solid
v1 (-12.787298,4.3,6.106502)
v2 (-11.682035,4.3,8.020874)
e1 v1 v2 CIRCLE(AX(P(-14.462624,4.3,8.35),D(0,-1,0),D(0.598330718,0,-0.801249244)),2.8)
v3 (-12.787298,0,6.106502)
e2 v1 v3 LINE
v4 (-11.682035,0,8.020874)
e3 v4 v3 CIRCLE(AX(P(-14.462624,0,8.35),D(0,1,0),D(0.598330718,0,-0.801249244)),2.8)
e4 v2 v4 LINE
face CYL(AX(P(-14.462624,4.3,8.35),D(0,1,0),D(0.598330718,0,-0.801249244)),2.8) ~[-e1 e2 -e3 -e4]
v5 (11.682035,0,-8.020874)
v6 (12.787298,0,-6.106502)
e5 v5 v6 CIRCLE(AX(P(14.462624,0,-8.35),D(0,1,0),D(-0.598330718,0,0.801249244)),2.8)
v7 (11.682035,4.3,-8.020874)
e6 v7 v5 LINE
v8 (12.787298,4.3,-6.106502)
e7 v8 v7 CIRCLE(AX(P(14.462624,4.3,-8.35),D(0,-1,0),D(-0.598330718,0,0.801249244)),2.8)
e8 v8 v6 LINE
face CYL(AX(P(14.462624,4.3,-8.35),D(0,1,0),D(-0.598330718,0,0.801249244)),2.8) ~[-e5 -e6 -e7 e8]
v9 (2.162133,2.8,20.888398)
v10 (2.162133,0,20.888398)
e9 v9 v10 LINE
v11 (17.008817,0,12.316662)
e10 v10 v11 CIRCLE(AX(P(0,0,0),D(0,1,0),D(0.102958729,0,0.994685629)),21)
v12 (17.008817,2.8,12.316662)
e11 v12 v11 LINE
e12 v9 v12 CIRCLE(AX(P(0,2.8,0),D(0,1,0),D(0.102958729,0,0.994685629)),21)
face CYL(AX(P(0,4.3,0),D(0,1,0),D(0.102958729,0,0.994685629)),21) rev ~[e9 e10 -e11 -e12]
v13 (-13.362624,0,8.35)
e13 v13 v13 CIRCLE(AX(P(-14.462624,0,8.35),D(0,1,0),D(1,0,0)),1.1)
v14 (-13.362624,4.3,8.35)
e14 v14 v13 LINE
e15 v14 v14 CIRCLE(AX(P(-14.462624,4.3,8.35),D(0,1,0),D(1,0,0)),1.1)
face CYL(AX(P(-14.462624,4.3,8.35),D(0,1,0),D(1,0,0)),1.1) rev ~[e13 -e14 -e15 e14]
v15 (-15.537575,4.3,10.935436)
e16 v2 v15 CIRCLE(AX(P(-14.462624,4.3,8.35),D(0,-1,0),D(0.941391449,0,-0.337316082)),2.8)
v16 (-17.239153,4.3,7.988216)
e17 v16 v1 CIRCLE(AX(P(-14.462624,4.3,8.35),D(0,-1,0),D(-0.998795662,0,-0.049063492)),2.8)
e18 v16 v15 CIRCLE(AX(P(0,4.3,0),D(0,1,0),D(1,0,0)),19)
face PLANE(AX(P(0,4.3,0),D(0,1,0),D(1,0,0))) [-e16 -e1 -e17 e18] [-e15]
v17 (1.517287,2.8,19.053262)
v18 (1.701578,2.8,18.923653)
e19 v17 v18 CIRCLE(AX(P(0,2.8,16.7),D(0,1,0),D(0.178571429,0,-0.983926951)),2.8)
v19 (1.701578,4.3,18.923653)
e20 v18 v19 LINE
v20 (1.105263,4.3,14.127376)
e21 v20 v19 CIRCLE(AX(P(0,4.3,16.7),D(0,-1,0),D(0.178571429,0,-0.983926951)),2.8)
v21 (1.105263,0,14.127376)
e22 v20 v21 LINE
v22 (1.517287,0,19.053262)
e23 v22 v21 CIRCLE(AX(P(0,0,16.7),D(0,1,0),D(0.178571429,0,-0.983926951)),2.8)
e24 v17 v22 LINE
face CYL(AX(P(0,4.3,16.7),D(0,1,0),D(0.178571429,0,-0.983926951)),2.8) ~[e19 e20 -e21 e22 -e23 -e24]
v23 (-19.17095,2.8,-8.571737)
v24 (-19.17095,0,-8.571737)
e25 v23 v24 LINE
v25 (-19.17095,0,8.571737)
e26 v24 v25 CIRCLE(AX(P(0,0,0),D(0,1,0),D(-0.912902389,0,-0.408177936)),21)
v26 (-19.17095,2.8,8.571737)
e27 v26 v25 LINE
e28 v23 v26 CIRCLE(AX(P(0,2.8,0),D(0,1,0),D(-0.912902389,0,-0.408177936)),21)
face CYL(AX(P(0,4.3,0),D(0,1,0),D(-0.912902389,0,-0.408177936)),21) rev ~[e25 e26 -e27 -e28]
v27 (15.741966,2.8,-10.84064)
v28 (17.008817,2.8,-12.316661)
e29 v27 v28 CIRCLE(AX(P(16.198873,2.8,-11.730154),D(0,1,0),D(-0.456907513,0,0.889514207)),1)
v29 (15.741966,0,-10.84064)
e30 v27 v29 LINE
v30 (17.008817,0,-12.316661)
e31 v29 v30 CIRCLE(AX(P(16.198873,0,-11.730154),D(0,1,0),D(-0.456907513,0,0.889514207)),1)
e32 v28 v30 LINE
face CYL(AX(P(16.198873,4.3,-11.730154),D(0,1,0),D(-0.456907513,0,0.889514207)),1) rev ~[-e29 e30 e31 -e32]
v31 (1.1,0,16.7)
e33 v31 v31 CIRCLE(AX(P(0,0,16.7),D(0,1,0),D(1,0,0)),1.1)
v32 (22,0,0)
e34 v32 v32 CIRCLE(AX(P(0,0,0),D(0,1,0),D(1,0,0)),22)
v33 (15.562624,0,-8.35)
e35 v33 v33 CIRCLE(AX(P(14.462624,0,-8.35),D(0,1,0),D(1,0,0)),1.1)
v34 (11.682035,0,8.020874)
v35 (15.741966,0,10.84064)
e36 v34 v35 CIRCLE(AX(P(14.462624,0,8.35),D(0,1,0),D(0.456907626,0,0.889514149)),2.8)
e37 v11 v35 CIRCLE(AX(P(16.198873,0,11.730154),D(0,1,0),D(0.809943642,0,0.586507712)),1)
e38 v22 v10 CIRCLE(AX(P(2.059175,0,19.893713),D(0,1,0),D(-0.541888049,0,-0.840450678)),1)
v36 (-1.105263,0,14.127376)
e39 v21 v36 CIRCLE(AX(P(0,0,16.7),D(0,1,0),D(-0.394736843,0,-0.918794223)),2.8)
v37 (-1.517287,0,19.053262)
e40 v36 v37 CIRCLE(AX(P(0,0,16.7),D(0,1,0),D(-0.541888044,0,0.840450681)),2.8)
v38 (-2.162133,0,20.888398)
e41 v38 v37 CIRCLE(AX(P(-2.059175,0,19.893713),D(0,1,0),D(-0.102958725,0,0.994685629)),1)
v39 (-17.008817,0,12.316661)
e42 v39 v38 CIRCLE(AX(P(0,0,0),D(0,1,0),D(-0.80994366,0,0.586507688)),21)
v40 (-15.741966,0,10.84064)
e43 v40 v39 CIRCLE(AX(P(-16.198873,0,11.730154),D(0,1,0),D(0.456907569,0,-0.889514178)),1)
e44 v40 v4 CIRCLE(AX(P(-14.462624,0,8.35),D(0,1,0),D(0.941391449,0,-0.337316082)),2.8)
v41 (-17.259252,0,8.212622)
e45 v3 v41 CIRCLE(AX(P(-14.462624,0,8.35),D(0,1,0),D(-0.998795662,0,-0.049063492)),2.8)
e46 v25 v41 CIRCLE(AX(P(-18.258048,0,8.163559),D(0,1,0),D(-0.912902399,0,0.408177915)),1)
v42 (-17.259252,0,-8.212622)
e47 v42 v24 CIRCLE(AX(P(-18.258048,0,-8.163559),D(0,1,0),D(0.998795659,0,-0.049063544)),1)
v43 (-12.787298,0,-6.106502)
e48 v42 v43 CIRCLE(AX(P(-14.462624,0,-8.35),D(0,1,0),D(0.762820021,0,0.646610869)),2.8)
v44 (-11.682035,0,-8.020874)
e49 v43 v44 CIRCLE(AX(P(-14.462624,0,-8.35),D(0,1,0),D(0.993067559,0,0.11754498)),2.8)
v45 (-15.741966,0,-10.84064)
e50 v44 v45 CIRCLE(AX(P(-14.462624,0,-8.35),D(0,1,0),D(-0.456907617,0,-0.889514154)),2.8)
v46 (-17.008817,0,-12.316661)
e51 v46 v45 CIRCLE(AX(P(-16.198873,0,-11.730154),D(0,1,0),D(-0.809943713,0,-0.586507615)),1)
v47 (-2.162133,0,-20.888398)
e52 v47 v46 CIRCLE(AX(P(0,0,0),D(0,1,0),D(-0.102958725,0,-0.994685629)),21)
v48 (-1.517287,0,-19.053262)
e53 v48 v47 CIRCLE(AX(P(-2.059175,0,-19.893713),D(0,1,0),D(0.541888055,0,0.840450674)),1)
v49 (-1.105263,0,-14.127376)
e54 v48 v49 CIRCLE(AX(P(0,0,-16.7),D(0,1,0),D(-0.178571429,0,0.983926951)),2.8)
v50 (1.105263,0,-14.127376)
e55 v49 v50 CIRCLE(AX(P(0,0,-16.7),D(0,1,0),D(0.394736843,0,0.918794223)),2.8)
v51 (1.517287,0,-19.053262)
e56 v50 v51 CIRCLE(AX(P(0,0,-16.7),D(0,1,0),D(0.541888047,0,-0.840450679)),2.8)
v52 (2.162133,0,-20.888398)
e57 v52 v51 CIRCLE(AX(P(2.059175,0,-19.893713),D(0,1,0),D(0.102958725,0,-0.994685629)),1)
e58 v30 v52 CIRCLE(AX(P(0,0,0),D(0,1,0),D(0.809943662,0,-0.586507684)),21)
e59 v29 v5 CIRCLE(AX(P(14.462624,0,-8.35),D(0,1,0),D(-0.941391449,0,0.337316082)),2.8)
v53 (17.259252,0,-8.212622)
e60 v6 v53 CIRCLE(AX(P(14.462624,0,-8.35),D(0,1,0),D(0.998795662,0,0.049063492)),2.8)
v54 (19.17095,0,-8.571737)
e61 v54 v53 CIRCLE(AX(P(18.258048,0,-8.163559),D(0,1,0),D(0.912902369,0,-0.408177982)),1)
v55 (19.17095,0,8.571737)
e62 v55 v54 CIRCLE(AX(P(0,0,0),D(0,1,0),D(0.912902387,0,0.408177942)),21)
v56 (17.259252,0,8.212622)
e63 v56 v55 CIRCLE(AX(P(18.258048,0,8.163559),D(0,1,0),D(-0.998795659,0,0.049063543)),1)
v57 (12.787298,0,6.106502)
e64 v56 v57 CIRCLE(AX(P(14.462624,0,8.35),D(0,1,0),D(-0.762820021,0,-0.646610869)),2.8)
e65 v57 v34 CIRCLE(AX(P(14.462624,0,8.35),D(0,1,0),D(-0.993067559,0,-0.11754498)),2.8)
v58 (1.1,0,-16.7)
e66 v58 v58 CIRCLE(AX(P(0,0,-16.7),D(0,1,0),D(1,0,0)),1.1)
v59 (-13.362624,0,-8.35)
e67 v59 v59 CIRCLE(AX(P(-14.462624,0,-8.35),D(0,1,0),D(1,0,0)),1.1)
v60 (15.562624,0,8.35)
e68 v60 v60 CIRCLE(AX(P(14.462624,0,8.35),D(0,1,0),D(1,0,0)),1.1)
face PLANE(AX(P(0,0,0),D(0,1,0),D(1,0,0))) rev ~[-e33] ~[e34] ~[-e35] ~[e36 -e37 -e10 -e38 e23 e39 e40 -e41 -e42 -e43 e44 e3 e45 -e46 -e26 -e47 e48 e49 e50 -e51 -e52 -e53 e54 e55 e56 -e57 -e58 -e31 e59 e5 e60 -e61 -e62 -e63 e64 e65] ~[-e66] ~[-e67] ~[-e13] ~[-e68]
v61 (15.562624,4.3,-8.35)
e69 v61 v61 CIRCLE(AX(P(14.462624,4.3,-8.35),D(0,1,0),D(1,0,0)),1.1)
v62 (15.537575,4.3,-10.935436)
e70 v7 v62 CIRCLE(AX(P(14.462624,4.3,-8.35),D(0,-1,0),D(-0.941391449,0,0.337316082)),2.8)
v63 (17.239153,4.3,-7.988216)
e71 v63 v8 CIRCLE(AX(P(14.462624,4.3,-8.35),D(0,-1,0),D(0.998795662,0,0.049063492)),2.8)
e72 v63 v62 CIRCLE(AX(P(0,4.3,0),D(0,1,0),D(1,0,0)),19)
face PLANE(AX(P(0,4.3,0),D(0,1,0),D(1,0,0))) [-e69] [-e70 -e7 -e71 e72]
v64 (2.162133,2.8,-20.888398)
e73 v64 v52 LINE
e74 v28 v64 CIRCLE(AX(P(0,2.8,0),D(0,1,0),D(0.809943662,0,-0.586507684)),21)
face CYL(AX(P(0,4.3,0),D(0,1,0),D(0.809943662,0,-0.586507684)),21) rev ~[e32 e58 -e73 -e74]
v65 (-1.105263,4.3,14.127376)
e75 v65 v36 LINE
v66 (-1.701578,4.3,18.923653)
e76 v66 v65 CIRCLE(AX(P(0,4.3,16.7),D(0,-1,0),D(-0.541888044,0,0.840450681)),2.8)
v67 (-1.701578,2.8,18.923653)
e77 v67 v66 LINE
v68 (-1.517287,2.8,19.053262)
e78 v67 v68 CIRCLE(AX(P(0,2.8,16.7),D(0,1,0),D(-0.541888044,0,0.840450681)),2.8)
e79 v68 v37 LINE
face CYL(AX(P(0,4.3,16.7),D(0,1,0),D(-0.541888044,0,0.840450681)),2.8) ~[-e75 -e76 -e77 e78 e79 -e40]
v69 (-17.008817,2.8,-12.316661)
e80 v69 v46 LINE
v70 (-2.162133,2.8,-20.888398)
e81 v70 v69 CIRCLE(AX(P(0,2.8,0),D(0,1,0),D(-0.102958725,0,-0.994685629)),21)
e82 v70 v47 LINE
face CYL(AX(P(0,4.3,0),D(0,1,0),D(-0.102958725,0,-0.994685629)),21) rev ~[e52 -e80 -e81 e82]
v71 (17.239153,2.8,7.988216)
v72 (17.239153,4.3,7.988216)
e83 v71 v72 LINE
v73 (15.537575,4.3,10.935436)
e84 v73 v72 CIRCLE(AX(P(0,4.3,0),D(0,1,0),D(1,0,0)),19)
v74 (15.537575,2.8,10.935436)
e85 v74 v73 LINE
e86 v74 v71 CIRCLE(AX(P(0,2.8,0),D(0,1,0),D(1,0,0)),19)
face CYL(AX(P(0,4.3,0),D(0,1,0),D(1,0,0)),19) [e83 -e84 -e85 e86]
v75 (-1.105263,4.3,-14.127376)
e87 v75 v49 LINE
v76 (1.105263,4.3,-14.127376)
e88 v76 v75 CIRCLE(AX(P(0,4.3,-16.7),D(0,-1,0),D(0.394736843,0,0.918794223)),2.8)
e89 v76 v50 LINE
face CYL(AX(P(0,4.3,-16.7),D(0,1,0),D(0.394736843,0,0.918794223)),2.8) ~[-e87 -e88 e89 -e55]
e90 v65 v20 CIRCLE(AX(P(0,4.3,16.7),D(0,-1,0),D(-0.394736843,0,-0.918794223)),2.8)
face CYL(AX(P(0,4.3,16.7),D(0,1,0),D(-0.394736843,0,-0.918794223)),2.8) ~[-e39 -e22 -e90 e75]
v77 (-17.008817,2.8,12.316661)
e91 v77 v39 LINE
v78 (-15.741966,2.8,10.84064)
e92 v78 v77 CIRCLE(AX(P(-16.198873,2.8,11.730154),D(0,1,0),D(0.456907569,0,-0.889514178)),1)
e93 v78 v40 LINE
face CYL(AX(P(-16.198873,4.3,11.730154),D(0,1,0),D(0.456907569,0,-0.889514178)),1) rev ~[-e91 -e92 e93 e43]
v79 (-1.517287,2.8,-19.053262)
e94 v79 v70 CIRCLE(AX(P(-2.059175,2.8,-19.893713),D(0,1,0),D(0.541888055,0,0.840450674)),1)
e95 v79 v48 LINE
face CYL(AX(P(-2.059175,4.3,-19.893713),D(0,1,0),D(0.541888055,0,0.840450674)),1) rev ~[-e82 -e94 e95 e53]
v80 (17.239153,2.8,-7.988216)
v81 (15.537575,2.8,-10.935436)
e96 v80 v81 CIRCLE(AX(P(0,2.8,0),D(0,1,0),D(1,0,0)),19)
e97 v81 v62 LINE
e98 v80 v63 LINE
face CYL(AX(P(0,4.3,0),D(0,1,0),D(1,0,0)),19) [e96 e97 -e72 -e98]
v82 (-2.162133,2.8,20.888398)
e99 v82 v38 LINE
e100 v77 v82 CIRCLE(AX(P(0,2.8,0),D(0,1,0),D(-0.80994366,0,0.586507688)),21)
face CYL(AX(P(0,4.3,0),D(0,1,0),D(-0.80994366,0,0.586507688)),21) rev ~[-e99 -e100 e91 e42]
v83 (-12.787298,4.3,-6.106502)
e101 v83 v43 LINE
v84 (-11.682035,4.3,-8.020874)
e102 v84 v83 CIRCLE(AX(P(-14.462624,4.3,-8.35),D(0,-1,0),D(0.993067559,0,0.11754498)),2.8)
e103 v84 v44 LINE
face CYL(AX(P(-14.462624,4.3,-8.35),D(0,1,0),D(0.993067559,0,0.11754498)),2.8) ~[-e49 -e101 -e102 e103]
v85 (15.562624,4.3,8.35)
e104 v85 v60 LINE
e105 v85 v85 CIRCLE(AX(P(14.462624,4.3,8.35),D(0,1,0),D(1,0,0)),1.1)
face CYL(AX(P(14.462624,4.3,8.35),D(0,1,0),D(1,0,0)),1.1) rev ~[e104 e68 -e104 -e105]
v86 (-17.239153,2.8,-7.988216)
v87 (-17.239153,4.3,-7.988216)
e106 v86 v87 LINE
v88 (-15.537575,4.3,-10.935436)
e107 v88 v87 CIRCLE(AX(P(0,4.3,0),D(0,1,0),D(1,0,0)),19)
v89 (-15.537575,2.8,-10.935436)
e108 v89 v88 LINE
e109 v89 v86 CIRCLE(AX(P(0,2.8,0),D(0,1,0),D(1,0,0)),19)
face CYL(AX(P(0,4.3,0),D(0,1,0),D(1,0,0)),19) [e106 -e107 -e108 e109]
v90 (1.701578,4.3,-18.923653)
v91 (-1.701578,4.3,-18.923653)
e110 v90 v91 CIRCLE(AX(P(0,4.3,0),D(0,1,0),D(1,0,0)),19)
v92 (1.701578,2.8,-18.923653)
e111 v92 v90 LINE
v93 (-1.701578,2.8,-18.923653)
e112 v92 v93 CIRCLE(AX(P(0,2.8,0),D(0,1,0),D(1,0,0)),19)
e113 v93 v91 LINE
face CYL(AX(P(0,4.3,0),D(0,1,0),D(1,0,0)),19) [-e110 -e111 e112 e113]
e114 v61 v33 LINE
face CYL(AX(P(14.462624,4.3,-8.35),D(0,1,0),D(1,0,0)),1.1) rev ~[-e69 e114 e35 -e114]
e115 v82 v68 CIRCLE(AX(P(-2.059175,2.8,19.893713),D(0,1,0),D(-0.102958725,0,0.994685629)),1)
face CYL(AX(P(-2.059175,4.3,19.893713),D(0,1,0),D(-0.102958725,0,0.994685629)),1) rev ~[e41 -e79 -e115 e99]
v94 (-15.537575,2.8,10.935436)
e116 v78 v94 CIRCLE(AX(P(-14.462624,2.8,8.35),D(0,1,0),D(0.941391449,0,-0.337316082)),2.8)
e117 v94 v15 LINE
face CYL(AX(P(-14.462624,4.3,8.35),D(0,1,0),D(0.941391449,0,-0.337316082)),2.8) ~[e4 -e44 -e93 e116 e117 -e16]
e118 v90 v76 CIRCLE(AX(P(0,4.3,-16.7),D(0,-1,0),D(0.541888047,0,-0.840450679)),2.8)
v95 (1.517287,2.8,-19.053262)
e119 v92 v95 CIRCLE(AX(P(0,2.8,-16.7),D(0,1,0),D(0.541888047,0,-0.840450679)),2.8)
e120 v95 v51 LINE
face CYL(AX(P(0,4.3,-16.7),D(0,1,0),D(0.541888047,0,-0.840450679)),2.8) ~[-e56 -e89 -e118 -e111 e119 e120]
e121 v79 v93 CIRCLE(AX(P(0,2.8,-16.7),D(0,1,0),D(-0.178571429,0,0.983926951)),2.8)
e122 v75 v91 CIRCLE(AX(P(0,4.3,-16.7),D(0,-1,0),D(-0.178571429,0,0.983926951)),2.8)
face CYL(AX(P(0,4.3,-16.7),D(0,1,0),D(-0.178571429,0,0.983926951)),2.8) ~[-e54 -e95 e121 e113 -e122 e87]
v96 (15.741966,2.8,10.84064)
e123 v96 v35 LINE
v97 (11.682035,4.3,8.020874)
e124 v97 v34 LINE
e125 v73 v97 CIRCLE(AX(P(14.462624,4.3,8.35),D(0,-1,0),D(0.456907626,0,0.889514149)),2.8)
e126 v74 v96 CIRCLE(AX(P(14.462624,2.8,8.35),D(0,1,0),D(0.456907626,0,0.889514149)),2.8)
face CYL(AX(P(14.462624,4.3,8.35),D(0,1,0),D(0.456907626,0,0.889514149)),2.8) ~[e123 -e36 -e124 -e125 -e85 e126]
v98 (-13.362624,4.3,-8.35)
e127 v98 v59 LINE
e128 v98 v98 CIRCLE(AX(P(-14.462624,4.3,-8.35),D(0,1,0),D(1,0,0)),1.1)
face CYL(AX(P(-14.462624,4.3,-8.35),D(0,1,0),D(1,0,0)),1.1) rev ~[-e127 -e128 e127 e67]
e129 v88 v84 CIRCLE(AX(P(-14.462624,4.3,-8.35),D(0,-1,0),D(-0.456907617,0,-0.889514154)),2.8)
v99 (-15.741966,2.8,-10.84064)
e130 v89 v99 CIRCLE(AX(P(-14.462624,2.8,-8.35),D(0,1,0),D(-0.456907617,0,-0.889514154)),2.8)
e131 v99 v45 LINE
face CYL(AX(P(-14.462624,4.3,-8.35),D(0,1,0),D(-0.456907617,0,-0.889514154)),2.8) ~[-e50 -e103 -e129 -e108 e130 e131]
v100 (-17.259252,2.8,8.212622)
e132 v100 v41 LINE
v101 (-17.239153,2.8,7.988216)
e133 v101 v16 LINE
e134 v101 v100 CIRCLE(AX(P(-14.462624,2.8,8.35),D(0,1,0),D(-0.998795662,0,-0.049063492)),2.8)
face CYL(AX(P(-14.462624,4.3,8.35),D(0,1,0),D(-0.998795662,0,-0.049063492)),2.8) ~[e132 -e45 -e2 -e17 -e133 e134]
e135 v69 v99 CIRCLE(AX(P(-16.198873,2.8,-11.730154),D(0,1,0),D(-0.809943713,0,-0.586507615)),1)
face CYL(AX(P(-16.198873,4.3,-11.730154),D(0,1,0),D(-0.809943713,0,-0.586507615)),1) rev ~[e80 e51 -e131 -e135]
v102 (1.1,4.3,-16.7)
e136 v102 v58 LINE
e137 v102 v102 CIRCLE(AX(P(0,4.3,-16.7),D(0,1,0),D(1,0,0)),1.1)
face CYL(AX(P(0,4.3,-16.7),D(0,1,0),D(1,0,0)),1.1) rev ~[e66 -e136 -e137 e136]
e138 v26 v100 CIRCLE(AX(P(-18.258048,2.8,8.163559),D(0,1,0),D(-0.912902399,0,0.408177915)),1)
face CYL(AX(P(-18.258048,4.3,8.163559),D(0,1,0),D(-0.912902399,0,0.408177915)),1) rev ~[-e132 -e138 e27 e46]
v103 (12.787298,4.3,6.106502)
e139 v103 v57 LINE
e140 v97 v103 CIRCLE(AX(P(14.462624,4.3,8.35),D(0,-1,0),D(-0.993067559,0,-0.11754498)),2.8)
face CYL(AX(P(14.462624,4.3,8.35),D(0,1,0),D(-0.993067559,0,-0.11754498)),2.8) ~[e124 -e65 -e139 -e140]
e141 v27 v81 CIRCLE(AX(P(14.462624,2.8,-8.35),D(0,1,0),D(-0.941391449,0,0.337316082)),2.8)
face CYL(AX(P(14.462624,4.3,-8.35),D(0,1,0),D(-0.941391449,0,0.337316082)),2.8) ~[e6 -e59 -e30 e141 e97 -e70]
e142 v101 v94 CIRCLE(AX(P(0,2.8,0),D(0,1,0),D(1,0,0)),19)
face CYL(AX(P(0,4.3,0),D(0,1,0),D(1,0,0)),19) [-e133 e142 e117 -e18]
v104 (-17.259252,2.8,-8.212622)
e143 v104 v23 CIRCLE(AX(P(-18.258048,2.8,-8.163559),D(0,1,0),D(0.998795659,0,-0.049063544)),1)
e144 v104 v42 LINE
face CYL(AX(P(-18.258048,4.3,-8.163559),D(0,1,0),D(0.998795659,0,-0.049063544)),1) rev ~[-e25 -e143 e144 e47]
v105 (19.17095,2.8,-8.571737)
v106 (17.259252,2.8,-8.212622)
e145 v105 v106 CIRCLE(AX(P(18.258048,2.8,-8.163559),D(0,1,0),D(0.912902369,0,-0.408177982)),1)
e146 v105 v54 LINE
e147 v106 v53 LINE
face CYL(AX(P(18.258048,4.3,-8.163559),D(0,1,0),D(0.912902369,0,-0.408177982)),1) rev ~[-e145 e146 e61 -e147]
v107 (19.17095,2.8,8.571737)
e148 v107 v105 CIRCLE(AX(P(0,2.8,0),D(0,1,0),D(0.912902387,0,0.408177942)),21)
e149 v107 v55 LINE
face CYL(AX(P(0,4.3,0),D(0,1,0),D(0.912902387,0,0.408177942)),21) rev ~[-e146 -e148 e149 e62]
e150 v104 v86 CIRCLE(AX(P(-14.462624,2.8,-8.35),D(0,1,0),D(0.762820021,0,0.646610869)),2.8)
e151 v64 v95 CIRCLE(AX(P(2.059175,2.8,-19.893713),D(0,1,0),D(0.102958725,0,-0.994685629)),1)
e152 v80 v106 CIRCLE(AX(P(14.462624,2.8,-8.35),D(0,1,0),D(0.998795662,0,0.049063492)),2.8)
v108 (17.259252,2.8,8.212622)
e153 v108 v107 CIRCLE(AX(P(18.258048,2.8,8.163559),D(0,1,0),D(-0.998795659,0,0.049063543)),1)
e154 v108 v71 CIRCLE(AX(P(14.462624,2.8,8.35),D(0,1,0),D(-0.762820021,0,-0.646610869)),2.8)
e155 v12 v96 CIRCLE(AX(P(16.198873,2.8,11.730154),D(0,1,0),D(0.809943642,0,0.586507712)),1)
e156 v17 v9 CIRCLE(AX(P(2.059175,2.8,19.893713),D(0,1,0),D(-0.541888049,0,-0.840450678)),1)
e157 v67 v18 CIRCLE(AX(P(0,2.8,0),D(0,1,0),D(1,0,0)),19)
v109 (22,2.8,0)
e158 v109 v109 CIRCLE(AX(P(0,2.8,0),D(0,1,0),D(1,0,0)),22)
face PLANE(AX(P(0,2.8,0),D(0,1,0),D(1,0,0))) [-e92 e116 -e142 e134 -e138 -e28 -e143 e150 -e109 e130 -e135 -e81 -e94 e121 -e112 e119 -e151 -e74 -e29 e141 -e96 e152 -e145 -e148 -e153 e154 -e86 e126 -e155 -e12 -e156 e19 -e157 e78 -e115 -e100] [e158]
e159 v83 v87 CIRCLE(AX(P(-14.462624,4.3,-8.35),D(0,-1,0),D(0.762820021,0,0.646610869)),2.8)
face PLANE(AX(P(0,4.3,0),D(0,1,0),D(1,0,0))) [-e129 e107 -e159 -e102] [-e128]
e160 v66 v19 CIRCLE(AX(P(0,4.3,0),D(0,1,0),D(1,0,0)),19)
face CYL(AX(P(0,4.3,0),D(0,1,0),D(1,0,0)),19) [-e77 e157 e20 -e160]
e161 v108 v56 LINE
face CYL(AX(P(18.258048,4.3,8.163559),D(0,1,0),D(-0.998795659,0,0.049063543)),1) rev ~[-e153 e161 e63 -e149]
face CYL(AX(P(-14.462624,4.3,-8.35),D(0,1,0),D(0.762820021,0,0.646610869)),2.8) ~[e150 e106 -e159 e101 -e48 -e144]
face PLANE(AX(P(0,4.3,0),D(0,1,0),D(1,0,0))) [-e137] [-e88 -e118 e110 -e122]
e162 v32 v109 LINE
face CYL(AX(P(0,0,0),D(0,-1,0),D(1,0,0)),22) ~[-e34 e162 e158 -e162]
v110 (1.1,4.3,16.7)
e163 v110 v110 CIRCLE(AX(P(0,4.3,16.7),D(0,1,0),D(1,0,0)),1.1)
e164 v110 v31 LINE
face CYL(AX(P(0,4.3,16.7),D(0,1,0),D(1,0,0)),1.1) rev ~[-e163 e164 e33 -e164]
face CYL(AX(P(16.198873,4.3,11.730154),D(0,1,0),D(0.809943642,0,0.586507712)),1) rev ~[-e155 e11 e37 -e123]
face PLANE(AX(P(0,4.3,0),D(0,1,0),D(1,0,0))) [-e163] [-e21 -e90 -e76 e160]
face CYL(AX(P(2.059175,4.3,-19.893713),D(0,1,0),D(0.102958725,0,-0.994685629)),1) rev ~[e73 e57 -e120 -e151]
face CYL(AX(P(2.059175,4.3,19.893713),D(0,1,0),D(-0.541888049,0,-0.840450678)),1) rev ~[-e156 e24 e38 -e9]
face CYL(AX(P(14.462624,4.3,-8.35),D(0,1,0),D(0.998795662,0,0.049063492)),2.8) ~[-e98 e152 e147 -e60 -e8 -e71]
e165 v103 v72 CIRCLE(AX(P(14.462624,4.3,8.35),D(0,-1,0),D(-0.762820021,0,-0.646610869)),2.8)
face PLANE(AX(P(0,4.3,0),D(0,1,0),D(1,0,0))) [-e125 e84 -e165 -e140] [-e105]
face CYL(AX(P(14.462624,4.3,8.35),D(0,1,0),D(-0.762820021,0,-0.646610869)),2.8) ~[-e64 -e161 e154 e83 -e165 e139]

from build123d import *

# Parameters (mm, degrees)
SKETCH1_R             = 22
BASE_SHAPE_DEPTH      = 4.3
BASE_CUT_REACH        = 33.408
SKETCH4_R             = 2.1
MILLING_FILLETS_R     = 1
MIDDLE_START          = -1.5
SKETCH5_R             = 22
SKETCH5_R_2           = 19
MIDDLE_SLOT_CUT_DEPTH = 1.5
M2_SCREW_HOLES_REACH  = 33.408
SKETCH6_R             = 1.1
REMOVE_INNER_REACH    = 33.408


with BuildPart() as part:
    # Sketch1 → Base shape (new body)
    with BuildSketch(Plane(origin=(0, 0, 0), x_dir=(1, 0, 0), z_dir=(0, 1, 0))):
        Circle(SKETCH1_R)
    extrude(amount=BASE_SHAPE_DEPTH)

    # Sketch4 → Base cut (cut, up to next)
    with BuildSketch(Plane(origin=(0, 4.3, 0), x_dir=(1, 0, 0), z_dir=(0, 1, 0)), mode=Mode.PRIVATE) as base_cut_sk1:
        with BuildLine():
            Line((-0.5, 4.623040125), (-0.5, 13.945004537))
            ThreePointArc((-0.5, 13.945004537), (-2.746076212, 16.153131244), (-1.517286534, 19.053261901))
            ThreePointArc((-1.517286534, 19.053261901), (-1.115725557, 20.225230181), (-2.162133235, 20.888398212))
            ThreePointArc((-2.162133235, 20.888398212), (-10.500000003, 18.186533478), (-17.008816883, 12.316661408))
            ThreePointArc((-17.008816883, 12.316661408), (-16.957700355, 11.078861766), (-15.74196557, 10.84063963))
            ThreePointArc((-15.74196557, 10.84063963), (-12.615983904, 10.454737385), (-11.826728185, 7.40551497))
            Line((-11.826728185, 7.40551497), (-3.753670191, 2.744532765))
            ThreePointArc((-3.753670191, 2.744532765), (-2.325, 4.027018128), (-0.5, 4.623040125))
        make_face()
    base_cut_tool1 = extrude(base_cut_sk1.sketch, amount=-BASE_CUT_REACH, mode=Mode.PRIVATE) & part.part
    # Sketch4 → Base cut (cut, up to next)
    with BuildSketch(Plane(origin=(0, 4.3, 0), x_dir=(1, 0, 0), z_dir=(0, 1, 0)), mode=Mode.PRIVATE) as base_cut_sk2:
        with BuildLine():
            Line((0.5, 13.945004537), (0.5, 4.623040125))
            ThreePointArc((0.5, 4.623040125), (2.325, 4.027018128), (3.753670191, 2.744532765))
            Line((3.753670191, 2.744532765), (11.826728185, 7.40551497))
            ThreePointArc((11.826728185, 7.40551497), (12.615983941, 10.454737417), (15.741965657, 10.840639586))
            ThreePointArc((15.741965657, 10.840639586), (16.957700372, 11.078861786), (17.00881691, 12.316661371))
            ThreePointArc((17.00881691, 12.316661371), (10.500000058, 18.186533446), (2.162133314, 20.888398204))
            ThreePointArc((2.162133314, 20.888398204), (1.11572557, 20.225230219), (1.517286532, 19.053261902))
            ThreePointArc((1.517286532, 19.053261902), (2.746076212, 16.153131245), (0.5, 13.945004537))
        make_face()
    base_cut_tool2 = extrude(base_cut_sk2.sketch, amount=-BASE_CUT_REACH, mode=Mode.PRIVATE) & part.part
    # Sketch4 → Base cut (cut, up to next)
    with BuildSketch(Plane(origin=(0, 4.3, 0), x_dir=(1, 0, 0), z_dir=(0, 1, 0)), mode=Mode.PRIVATE) as base_cut_sk3:
        with BuildLine():
            ThreePointArc((-4.253670191, -1.878507361), (-4.65, 0), (-4.253670191, 1.878507361))
            Line((-4.253670191, 1.878507361), (-12.326728185, 6.539489567))
            ThreePointArc((-12.326728185, 6.539489567), (-15.362060141, 5.698393871), (-17.259252101, 8.212622326))
            ThreePointArc((-17.259252101, 8.212622326), (-18.073426017, 9.146368434), (-19.170950177, 8.571736657))
            ThreePointArc((-19.170950177, 8.571736657), (-21, -2.3e-08), (-19.170950158, -8.571736698))
            ThreePointArc((-19.170950158, -8.571736698), (-18.073425944, -9.146368421), (-17.259252096, -8.212622223))
            ThreePointArc((-17.259252096, -8.212622223), (-15.362060093, -5.698393854), (-12.326728185, -6.539489567))
            Line((-12.326728185, -6.539489567), (-4.253670191, -1.878507361))
        make_face()
    base_cut_tool3 = extrude(base_cut_sk3.sketch, amount=-BASE_CUT_REACH, mode=Mode.PRIVATE) & part.part
    # Sketch4 → Base cut (cut, up to next)
    with BuildSketch(Plane(origin=(0, 4.3, 0), x_dir=(1, 0, 0), z_dir=(0, 1, 0)), mode=Mode.PRIVATE) as base_cut_sk4:
        with BuildLine():
            Line((12.326728185, 6.539489567), (4.253670191, 1.878507361))
            ThreePointArc((4.253670191, 1.878507361), (4.65, 0), (4.253670191, -1.878507361))
            Line((4.253670191, -1.878507361), (12.326728185, -6.539489567))
            ThreePointArc((12.326728185, -6.539489567), (15.362060141, -5.698393871), (17.259252101, -8.212622326))
            ThreePointArc((17.259252101, -8.212622326), (18.07342595, -9.146368422), (19.170950121, -8.571736781))
            ThreePointArc((19.170950121, -8.571736781), (21, -9e-09), (19.170950128, 8.571736765))
            ThreePointArc((19.170950128, 8.571736765), (18.073425908, 9.146368414), (17.259252096, 8.212622223))
            ThreePointArc((17.259252096, 8.212622223), (15.362060093, 5.698393854), (12.326728185, 6.539489567))
        make_face()
    base_cut_tool4 = extrude(base_cut_sk4.sketch, amount=-BASE_CUT_REACH, mode=Mode.PRIVATE) & part.part
    # Sketch4 → Base cut (cut, up to next)
    with BuildSketch(Plane(origin=(0, 4.3, 0), x_dir=(1, 0, 0), z_dir=(0, 1, 0)), mode=Mode.PRIVATE) as base_cut_sk5:
        with BuildLine():
            ThreePointArc((-0.5, -4.623040125), (-2.325, -4.027018128), (-3.753670191, -2.744532765))
            Line((-3.753670191, -2.744532765), (-11.826728185, -7.40551497))
            ThreePointArc((-11.826728185, -7.40551497), (-12.615983918, -10.454737397), (-15.741965602, -10.840639614))
            ThreePointArc((-15.741965602, -10.840639614), (-16.957700382, -11.078861797), (-17.008816856, -12.316661445))
            ThreePointArc((-17.008816856, -12.316661445), (-10.500000018, -18.186533469), (-2.162133314, -20.888398204))
            ThreePointArc((-2.162133314, -20.888398204), (-1.115725572, -20.225230224), (-1.517286523, -19.053261908))
            ThreePointArc((-1.517286523, -19.053261908), (-2.746076213, -16.15313125), (-0.5, -13.945004537))
            Line((-0.5, -13.945004537), (-0.5, -4.623040125))
        make_face()
    base_cut_tool5 = extrude(base_cut_sk5.sketch, amount=-BASE_CUT_REACH, mode=Mode.PRIVATE) & part.part
    # Sketch4 → Base cut (cut, up to next)
    with BuildSketch(Plane(origin=(0, 4.3, 0), x_dir=(1, 0, 0), z_dir=(0, 1, 0)), mode=Mode.PRIVATE) as base_cut_sk6:
        with BuildLine():
            Line((11.826728185, -7.40551497), (3.753670191, -2.744532765))
            ThreePointArc((3.753670191, -2.744532765), (2.325, -4.027018128), (0.5, -4.623040125))
            Line((0.5, -4.623040125), (0.5, -13.945004537))
            ThreePointArc((0.5, -13.945004537), (2.746076211, -16.15313124), (1.51728654, -19.053261897))
            ThreePointArc((1.51728654, -19.053261897), (1.115725569, -20.225230215), (2.162133314, -20.888398204))
            ThreePointArc((2.162133314, -20.888398204), (10.499999986, -18.186533488), (17.008816813, -12.316661505))
            ThreePointArc((17.008816813, -12.316661505), (16.957700403, -11.078861822), (15.741965594, -10.840639618))
            ThreePointArc((15.741965594, -10.840639618), (12.615983914, -10.454737394), (11.826728185, -7.40551497))
        make_face()
    base_cut_tool6 = extrude(base_cut_sk6.sketch, amount=-BASE_CUT_REACH, mode=Mode.PRIVATE) & part.part
    # Sketch4 → Base cut (cut, up to next)
    with BuildSketch(Plane(origin=(0, 4.3, 0), x_dir=(1, 0, 0), z_dir=(0, 1, 0)), mode=Mode.PRIVATE) as base_cut_sk7:
        Circle(SKETCH4_R)
    base_cut_tool7 = extrude(base_cut_sk7.sketch, amount=-BASE_CUT_REACH, mode=Mode.PRIVATE) & part.part
    add(base_cut_tool1.solids().sort_by_distance((-6.978507, 4.3, -12.087128))[0], mode=Mode.SUBTRACT)
    add(base_cut_tool2.solids().sort_by_distance((6.978507, 4.3, -12.087128))[0], mode=Mode.SUBTRACT)
    add(base_cut_tool3.solids().sort_by_distance((-13.957013, 4.3, 0))[0], mode=Mode.SUBTRACT)
    add(base_cut_tool4.solids().sort_by_distance((13.957013, 4.3, 0))[0], mode=Mode.SUBTRACT)
    add(base_cut_tool5.solids().sort_by_distance((-6.978507, 4.3, 12.087128))[0], mode=Mode.SUBTRACT)
    add(base_cut_tool6.solids().sort_by_distance((6.978507, 4.3, 12.087128))[0], mode=Mode.SUBTRACT)
    add(base_cut_tool7.solids().sort_by_distance((0, 4.3, 0))[0], mode=Mode.SUBTRACT)

    # Milling fillets
    milling_fillets_edges = [part.edges().sort_by_distance(p)[0] for p in [
        (11.826728185, 2.15, 7.40551497),
        (0.5, 2.15, 4.623040125),
        (12.326728185, 2.15, -6.539489567),
        (-0.5, 2.15, -4.623040125),
        (11.826728185, 2.15, -7.40551497),
        (0.5, 2.15, -4.623040125),
        (4.253670191, 2.15, 1.878507361),
        (0.5, 2.15, -13.945004537),
        (-11.826728185, 2.15, 7.40551497),
        (0.5, 2.15, 13.945004537),
        (3.753670191, 2.15, 2.744532765),
        (-0.5, 2.15, 4.623040125),
        (-0.5, 2.15, -13.945004537),
        (-0.5, 2.15, 13.945004537),
        (12.326728185, 2.15, 6.539489567),
        (3.753670191, 2.15, -2.744532765),
        (-4.253670191, 2.15, 1.878507361),
        (-12.326728185, 2.15, 6.539489567),
        (-3.753670191, 2.15, -2.744532765),
        (-11.826728185, 2.15, -7.40551497),
        (-12.326728185, 2.15, -6.539489567),
        (-4.253670191, 2.15, -1.878507361),
        (4.253670191, 2.15, -1.878507361),
        (-3.753670191, 2.15, 2.744532765),
    ]]
    fillet(milling_fillets_edges, radius=MILLING_FILLETS_R)

    # Sketch5 → Middle slot cut (cut)
    with BuildSketch(Plane(origin=(0, 4.3, 0), x_dir=(1, 0, 0), z_dir=(0, 1, 0)).offset(MIDDLE_START)):
        Circle(SKETCH5_R)
        Circle(SKETCH5_R_2, mode=Mode.SUBTRACT)
    extrude(amount=MIDDLE_SLOT_CUT_DEPTH, mode=Mode.SUBTRACT)

    # Sketch6 → M2 screw holes (cut, up to next)
    with BuildSketch(Plane(origin=(0, 4.3, 0), x_dir=(1, 0, 0), z_dir=(0, 1, 0)), mode=Mode.PRIVATE) as m2_screw_holes_sk1:
        with Locations((0, 16.7)):
            Circle(SKETCH6_R)
    m2_screw_holes_tool1 = extrude(m2_screw_holes_sk1.sketch, amount=-M2_SCREW_HOLES_REACH, mode=Mode.PRIVATE) & part.part
    # Sketch6 → M2 screw holes (cut, up to next)
    with BuildSketch(Plane(origin=(0, 4.3, 0), x_dir=(1, 0, 0), z_dir=(0, 1, 0)), mode=Mode.PRIVATE) as m2_screw_holes_sk2:
        with Locations((14.462624243, 8.35)):
            Circle(SKETCH6_R)
    m2_screw_holes_tool2 = extrude(m2_screw_holes_sk2.sketch, amount=-M2_SCREW_HOLES_REACH, mode=Mode.PRIVATE) & part.part
    # Sketch6 → M2 screw holes (cut, up to next)
    with BuildSketch(Plane(origin=(0, 4.3, 0), x_dir=(1, 0, 0), z_dir=(0, 1, 0)), mode=Mode.PRIVATE) as m2_screw_holes_sk3:
        with Locations((14.462624243, -8.35)):
            Circle(SKETCH6_R)
    m2_screw_holes_tool3 = extrude(m2_screw_holes_sk3.sketch, amount=-M2_SCREW_HOLES_REACH, mode=Mode.PRIVATE) & part.part
    # Sketch6 → M2 screw holes (cut, up to next)
    with BuildSketch(Plane(origin=(0, 4.3, 0), x_dir=(1, 0, 0), z_dir=(0, 1, 0)), mode=Mode.PRIVATE) as m2_screw_holes_sk4:
        with Locations((0, -16.7)):
            Circle(SKETCH6_R)
    m2_screw_holes_tool4 = extrude(m2_screw_holes_sk4.sketch, amount=-M2_SCREW_HOLES_REACH, mode=Mode.PRIVATE) & part.part
    # Sketch6 → M2 screw holes (cut, up to next)
    with BuildSketch(Plane(origin=(0, 4.3, 0), x_dir=(1, 0, 0), z_dir=(0, 1, 0)), mode=Mode.PRIVATE) as m2_screw_holes_sk5:
        with Locations((-14.462624243, -8.35)):
            Circle(SKETCH6_R)
    m2_screw_holes_tool5 = extrude(m2_screw_holes_sk5.sketch, amount=-M2_SCREW_HOLES_REACH, mode=Mode.PRIVATE) & part.part
    # Sketch6 → M2 screw holes (cut, up to next)
    with BuildSketch(Plane(origin=(0, 4.3, 0), x_dir=(1, 0, 0), z_dir=(0, 1, 0)), mode=Mode.PRIVATE) as m2_screw_holes_sk6:
        with Locations((-14.462624243, 8.35)):
            Circle(SKETCH6_R)
    m2_screw_holes_tool6 = extrude(m2_screw_holes_sk6.sketch, amount=-M2_SCREW_HOLES_REACH, mode=Mode.PRIVATE) & part.part
    add(m2_screw_holes_tool1.solids().sort_by_distance((0, 4.3, -16.7))[0], mode=Mode.SUBTRACT)
    add(m2_screw_holes_tool2.solids().sort_by_distance((14.462624, 4.3, -8.35))[0], mode=Mode.SUBTRACT)
    add(m2_screw_holes_tool3.solids().sort_by_distance((14.462624, 4.3, 8.35))[0], mode=Mode.SUBTRACT)
    add(m2_screw_holes_tool4.solids().sort_by_distance((0, 4.3, 16.7))[0], mode=Mode.SUBTRACT)
    add(m2_screw_holes_tool5.solids().sort_by_distance((-14.462624, 4.3, 8.35))[0], mode=Mode.SUBTRACT)
    add(m2_screw_holes_tool6.solids().sort_by_distance((-14.462624, 4.3, -8.35))[0], mode=Mode.SUBTRACT)

    # Sketch9 → Remove inner (cut, up to next)
    with BuildSketch(Plane(origin=(0, 4.3, 0), x_dir=(1, 0, 0), z_dir=(0, 1, 0)), mode=Mode.PRIVATE) as remove_inner_sk1:
        with BuildLine():
            ThreePointArc((12.787298234, -6.106502114), (12.247842131, -6.303518255), (11.688967517, -6.171278273))
            Line((11.688967517, -6.171278273), (4.967454292, -2.290610804))
            ThreePointArc((4.967454292, -2.290610804), (4.544902316, -1.810458242), (4.499763267, -1.172446391))
            ThreePointArc((4.499763267, -1.172446391), (4.65, 0), (4.499763267, 1.172446391))
            ThreePointArc((4.499763267, 1.172446391), (4.544902316, 1.810458242), (4.967454292, 2.290610804))
            Line((4.967454292, 2.290610804), (11.688967517, 6.171278273))
            ThreePointArc((11.688967517, 6.171278273), (12.247842131, 6.303518255), (12.787298234, 6.106502114))
            ThreePointArc((12.787298234, 6.106502114), (12.037753113, 6.95), (11.682035076, 8.020874059))
            ThreePointArc((11.682035076, 8.020874059), (11.582928007, 7.455183299), (11.188967517, 7.037303677))
            Line((11.188967517, 7.037303677), (4.467454292, 3.156636207))
            ThreePointArc((4.467454292, 3.156636207), (3.840353988, 3.030771742), (3.265249993, 3.310686105))
            ThreePointArc((3.265249993, 3.310686105), (2.325, 4.027018128), (1.234513274, 4.483132496))
            ThreePointArc((1.234513274, 4.483132496), (0.704548328, 4.841229984), (0.5, 5.447247011))
            Line((0.5, 5.447247011), (0.5, 13.20858195))
            ThreePointArc((0.5, 13.20858195), (0.664914124, 13.758701554), (1.105263158, 14.127376174))
            ThreePointArc((1.105263158, 14.127376174), (0, 13.9), (-1.105263158, 14.127376174))
            ThreePointArc((-1.105263158, 14.127376174), (-0.664914124, 13.758701554), (-0.5, 13.20858195))
            Line((-0.5, 13.20858195), (-0.5, 5.447247011))
            ThreePointArc((-0.5, 5.447247011), (-0.704548328, 4.841229984), (-1.234513274, 4.483132496))
            ThreePointArc((-1.234513274, 4.483132496), (-2.325, 4.027018128), (-3.265249993, 3.310686105))
            ThreePointArc((-3.265249993, 3.310686105), (-3.840353988, 3.030771742), (-4.467454292, 3.156636207))
            Line((-4.467454292, 3.156636207), (-11.188967517, 7.037303677))
            ThreePointArc((-11.188967517, 7.037303677), (-11.582928007, 7.455183299), (-11.682035076, 8.020874059))
            ThreePointArc((-11.682035076, 8.020874059), (-12.037753113, 6.95), (-12.787298234, 6.106502114))
            ThreePointArc((-12.787298234, 6.106502114), (-12.247842131, 6.303518255), (-11.688967517, 6.171278273))
            Line((-11.688967517, 6.171278273), (-4.967454292, 2.290610804))
            ThreePointArc((-4.967454292, 2.290610804), (-4.544902316, 1.810458242), (-4.499763267, 1.172446391))
            ThreePointArc((-4.499763267, 1.172446391), (-4.65, 0), (-4.499763267, -1.172446391))
            ThreePointArc((-4.499763267, -1.172446391), (-4.544902316, -1.810458242), (-4.967454292, -2.290610804))
            Line((-4.967454292, -2.290610804), (-11.688967517, -6.171278273))
            ThreePointArc((-11.688967517, -6.171278273), (-12.247842131, -6.303518255), (-12.787298234, -6.106502114))
            ThreePointArc((-12.787298234, -6.106502114), (-12.037753113, -6.95), (-11.682035076, -8.020874059))
            ThreePointArc((-11.682035076, -8.020874059), (-11.582928007, -7.455183299), (-11.188967517, -7.037303677))
            Line((-11.188967517, -7.037303677), (-4.467454292, -3.156636207))
            ThreePointArc((-4.467454292, -3.156636207), (-3.840353988, -3.030771742), (-3.265249993, -3.310686105))
            ThreePointArc((-3.265249993, -3.310686105), (-2.325, -4.027018128), (-1.234513274, -4.483132496))
            ThreePointArc((-1.234513274, -4.483132496), (-0.704548328, -4.841229984), (-0.5, -5.447247011))
            Line((-0.5, -5.447247011), (-0.5, -13.20858195))
            ThreePointArc((-0.5, -13.20858195), (-0.664914124, -13.758701554), (-1.105263158, -14.127376174))
            ThreePointArc((-1.105263158, -14.127376174), (0, -13.9), (1.105263158, -14.127376174))
            ThreePointArc((1.105263158, -14.127376174), (0.664914124, -13.758701554), (0.5, -13.20858195))
            Line((0.5, -13.20858195), (0.5, -5.447247011))
            ThreePointArc((0.5, -5.447247011), (0.704548328, -4.841229984), (1.234513274, -4.483132496))
            ThreePointArc((1.234513274, -4.483132496), (2.325, -4.027018128), (3.265249993, -3.310686105))
            ThreePointArc((3.265249993, -3.310686105), (3.840353988, -3.030771742), (4.467454292, -3.156636207))
            Line((4.467454292, -3.156636207), (11.188967517, -7.037303677))
            ThreePointArc((11.188967517, -7.037303677), (11.582928007, -7.455183299), (11.682035076, -8.020874059))
            ThreePointArc((11.682035076, -8.020874059), (12.037753113, -6.95), (12.787298234, -6.106502114))
        make_face()
    remove_inner_tool1 = extrude(remove_inner_sk1.sketch, amount=-REMOVE_INNER_REACH, mode=Mode.PRIVATE) & part.part
    add(remove_inner_tool1.solids().sort_by_distance((0, 4.3, 0))[0], mode=Mode.SUBTRACT)


solid = part.part
